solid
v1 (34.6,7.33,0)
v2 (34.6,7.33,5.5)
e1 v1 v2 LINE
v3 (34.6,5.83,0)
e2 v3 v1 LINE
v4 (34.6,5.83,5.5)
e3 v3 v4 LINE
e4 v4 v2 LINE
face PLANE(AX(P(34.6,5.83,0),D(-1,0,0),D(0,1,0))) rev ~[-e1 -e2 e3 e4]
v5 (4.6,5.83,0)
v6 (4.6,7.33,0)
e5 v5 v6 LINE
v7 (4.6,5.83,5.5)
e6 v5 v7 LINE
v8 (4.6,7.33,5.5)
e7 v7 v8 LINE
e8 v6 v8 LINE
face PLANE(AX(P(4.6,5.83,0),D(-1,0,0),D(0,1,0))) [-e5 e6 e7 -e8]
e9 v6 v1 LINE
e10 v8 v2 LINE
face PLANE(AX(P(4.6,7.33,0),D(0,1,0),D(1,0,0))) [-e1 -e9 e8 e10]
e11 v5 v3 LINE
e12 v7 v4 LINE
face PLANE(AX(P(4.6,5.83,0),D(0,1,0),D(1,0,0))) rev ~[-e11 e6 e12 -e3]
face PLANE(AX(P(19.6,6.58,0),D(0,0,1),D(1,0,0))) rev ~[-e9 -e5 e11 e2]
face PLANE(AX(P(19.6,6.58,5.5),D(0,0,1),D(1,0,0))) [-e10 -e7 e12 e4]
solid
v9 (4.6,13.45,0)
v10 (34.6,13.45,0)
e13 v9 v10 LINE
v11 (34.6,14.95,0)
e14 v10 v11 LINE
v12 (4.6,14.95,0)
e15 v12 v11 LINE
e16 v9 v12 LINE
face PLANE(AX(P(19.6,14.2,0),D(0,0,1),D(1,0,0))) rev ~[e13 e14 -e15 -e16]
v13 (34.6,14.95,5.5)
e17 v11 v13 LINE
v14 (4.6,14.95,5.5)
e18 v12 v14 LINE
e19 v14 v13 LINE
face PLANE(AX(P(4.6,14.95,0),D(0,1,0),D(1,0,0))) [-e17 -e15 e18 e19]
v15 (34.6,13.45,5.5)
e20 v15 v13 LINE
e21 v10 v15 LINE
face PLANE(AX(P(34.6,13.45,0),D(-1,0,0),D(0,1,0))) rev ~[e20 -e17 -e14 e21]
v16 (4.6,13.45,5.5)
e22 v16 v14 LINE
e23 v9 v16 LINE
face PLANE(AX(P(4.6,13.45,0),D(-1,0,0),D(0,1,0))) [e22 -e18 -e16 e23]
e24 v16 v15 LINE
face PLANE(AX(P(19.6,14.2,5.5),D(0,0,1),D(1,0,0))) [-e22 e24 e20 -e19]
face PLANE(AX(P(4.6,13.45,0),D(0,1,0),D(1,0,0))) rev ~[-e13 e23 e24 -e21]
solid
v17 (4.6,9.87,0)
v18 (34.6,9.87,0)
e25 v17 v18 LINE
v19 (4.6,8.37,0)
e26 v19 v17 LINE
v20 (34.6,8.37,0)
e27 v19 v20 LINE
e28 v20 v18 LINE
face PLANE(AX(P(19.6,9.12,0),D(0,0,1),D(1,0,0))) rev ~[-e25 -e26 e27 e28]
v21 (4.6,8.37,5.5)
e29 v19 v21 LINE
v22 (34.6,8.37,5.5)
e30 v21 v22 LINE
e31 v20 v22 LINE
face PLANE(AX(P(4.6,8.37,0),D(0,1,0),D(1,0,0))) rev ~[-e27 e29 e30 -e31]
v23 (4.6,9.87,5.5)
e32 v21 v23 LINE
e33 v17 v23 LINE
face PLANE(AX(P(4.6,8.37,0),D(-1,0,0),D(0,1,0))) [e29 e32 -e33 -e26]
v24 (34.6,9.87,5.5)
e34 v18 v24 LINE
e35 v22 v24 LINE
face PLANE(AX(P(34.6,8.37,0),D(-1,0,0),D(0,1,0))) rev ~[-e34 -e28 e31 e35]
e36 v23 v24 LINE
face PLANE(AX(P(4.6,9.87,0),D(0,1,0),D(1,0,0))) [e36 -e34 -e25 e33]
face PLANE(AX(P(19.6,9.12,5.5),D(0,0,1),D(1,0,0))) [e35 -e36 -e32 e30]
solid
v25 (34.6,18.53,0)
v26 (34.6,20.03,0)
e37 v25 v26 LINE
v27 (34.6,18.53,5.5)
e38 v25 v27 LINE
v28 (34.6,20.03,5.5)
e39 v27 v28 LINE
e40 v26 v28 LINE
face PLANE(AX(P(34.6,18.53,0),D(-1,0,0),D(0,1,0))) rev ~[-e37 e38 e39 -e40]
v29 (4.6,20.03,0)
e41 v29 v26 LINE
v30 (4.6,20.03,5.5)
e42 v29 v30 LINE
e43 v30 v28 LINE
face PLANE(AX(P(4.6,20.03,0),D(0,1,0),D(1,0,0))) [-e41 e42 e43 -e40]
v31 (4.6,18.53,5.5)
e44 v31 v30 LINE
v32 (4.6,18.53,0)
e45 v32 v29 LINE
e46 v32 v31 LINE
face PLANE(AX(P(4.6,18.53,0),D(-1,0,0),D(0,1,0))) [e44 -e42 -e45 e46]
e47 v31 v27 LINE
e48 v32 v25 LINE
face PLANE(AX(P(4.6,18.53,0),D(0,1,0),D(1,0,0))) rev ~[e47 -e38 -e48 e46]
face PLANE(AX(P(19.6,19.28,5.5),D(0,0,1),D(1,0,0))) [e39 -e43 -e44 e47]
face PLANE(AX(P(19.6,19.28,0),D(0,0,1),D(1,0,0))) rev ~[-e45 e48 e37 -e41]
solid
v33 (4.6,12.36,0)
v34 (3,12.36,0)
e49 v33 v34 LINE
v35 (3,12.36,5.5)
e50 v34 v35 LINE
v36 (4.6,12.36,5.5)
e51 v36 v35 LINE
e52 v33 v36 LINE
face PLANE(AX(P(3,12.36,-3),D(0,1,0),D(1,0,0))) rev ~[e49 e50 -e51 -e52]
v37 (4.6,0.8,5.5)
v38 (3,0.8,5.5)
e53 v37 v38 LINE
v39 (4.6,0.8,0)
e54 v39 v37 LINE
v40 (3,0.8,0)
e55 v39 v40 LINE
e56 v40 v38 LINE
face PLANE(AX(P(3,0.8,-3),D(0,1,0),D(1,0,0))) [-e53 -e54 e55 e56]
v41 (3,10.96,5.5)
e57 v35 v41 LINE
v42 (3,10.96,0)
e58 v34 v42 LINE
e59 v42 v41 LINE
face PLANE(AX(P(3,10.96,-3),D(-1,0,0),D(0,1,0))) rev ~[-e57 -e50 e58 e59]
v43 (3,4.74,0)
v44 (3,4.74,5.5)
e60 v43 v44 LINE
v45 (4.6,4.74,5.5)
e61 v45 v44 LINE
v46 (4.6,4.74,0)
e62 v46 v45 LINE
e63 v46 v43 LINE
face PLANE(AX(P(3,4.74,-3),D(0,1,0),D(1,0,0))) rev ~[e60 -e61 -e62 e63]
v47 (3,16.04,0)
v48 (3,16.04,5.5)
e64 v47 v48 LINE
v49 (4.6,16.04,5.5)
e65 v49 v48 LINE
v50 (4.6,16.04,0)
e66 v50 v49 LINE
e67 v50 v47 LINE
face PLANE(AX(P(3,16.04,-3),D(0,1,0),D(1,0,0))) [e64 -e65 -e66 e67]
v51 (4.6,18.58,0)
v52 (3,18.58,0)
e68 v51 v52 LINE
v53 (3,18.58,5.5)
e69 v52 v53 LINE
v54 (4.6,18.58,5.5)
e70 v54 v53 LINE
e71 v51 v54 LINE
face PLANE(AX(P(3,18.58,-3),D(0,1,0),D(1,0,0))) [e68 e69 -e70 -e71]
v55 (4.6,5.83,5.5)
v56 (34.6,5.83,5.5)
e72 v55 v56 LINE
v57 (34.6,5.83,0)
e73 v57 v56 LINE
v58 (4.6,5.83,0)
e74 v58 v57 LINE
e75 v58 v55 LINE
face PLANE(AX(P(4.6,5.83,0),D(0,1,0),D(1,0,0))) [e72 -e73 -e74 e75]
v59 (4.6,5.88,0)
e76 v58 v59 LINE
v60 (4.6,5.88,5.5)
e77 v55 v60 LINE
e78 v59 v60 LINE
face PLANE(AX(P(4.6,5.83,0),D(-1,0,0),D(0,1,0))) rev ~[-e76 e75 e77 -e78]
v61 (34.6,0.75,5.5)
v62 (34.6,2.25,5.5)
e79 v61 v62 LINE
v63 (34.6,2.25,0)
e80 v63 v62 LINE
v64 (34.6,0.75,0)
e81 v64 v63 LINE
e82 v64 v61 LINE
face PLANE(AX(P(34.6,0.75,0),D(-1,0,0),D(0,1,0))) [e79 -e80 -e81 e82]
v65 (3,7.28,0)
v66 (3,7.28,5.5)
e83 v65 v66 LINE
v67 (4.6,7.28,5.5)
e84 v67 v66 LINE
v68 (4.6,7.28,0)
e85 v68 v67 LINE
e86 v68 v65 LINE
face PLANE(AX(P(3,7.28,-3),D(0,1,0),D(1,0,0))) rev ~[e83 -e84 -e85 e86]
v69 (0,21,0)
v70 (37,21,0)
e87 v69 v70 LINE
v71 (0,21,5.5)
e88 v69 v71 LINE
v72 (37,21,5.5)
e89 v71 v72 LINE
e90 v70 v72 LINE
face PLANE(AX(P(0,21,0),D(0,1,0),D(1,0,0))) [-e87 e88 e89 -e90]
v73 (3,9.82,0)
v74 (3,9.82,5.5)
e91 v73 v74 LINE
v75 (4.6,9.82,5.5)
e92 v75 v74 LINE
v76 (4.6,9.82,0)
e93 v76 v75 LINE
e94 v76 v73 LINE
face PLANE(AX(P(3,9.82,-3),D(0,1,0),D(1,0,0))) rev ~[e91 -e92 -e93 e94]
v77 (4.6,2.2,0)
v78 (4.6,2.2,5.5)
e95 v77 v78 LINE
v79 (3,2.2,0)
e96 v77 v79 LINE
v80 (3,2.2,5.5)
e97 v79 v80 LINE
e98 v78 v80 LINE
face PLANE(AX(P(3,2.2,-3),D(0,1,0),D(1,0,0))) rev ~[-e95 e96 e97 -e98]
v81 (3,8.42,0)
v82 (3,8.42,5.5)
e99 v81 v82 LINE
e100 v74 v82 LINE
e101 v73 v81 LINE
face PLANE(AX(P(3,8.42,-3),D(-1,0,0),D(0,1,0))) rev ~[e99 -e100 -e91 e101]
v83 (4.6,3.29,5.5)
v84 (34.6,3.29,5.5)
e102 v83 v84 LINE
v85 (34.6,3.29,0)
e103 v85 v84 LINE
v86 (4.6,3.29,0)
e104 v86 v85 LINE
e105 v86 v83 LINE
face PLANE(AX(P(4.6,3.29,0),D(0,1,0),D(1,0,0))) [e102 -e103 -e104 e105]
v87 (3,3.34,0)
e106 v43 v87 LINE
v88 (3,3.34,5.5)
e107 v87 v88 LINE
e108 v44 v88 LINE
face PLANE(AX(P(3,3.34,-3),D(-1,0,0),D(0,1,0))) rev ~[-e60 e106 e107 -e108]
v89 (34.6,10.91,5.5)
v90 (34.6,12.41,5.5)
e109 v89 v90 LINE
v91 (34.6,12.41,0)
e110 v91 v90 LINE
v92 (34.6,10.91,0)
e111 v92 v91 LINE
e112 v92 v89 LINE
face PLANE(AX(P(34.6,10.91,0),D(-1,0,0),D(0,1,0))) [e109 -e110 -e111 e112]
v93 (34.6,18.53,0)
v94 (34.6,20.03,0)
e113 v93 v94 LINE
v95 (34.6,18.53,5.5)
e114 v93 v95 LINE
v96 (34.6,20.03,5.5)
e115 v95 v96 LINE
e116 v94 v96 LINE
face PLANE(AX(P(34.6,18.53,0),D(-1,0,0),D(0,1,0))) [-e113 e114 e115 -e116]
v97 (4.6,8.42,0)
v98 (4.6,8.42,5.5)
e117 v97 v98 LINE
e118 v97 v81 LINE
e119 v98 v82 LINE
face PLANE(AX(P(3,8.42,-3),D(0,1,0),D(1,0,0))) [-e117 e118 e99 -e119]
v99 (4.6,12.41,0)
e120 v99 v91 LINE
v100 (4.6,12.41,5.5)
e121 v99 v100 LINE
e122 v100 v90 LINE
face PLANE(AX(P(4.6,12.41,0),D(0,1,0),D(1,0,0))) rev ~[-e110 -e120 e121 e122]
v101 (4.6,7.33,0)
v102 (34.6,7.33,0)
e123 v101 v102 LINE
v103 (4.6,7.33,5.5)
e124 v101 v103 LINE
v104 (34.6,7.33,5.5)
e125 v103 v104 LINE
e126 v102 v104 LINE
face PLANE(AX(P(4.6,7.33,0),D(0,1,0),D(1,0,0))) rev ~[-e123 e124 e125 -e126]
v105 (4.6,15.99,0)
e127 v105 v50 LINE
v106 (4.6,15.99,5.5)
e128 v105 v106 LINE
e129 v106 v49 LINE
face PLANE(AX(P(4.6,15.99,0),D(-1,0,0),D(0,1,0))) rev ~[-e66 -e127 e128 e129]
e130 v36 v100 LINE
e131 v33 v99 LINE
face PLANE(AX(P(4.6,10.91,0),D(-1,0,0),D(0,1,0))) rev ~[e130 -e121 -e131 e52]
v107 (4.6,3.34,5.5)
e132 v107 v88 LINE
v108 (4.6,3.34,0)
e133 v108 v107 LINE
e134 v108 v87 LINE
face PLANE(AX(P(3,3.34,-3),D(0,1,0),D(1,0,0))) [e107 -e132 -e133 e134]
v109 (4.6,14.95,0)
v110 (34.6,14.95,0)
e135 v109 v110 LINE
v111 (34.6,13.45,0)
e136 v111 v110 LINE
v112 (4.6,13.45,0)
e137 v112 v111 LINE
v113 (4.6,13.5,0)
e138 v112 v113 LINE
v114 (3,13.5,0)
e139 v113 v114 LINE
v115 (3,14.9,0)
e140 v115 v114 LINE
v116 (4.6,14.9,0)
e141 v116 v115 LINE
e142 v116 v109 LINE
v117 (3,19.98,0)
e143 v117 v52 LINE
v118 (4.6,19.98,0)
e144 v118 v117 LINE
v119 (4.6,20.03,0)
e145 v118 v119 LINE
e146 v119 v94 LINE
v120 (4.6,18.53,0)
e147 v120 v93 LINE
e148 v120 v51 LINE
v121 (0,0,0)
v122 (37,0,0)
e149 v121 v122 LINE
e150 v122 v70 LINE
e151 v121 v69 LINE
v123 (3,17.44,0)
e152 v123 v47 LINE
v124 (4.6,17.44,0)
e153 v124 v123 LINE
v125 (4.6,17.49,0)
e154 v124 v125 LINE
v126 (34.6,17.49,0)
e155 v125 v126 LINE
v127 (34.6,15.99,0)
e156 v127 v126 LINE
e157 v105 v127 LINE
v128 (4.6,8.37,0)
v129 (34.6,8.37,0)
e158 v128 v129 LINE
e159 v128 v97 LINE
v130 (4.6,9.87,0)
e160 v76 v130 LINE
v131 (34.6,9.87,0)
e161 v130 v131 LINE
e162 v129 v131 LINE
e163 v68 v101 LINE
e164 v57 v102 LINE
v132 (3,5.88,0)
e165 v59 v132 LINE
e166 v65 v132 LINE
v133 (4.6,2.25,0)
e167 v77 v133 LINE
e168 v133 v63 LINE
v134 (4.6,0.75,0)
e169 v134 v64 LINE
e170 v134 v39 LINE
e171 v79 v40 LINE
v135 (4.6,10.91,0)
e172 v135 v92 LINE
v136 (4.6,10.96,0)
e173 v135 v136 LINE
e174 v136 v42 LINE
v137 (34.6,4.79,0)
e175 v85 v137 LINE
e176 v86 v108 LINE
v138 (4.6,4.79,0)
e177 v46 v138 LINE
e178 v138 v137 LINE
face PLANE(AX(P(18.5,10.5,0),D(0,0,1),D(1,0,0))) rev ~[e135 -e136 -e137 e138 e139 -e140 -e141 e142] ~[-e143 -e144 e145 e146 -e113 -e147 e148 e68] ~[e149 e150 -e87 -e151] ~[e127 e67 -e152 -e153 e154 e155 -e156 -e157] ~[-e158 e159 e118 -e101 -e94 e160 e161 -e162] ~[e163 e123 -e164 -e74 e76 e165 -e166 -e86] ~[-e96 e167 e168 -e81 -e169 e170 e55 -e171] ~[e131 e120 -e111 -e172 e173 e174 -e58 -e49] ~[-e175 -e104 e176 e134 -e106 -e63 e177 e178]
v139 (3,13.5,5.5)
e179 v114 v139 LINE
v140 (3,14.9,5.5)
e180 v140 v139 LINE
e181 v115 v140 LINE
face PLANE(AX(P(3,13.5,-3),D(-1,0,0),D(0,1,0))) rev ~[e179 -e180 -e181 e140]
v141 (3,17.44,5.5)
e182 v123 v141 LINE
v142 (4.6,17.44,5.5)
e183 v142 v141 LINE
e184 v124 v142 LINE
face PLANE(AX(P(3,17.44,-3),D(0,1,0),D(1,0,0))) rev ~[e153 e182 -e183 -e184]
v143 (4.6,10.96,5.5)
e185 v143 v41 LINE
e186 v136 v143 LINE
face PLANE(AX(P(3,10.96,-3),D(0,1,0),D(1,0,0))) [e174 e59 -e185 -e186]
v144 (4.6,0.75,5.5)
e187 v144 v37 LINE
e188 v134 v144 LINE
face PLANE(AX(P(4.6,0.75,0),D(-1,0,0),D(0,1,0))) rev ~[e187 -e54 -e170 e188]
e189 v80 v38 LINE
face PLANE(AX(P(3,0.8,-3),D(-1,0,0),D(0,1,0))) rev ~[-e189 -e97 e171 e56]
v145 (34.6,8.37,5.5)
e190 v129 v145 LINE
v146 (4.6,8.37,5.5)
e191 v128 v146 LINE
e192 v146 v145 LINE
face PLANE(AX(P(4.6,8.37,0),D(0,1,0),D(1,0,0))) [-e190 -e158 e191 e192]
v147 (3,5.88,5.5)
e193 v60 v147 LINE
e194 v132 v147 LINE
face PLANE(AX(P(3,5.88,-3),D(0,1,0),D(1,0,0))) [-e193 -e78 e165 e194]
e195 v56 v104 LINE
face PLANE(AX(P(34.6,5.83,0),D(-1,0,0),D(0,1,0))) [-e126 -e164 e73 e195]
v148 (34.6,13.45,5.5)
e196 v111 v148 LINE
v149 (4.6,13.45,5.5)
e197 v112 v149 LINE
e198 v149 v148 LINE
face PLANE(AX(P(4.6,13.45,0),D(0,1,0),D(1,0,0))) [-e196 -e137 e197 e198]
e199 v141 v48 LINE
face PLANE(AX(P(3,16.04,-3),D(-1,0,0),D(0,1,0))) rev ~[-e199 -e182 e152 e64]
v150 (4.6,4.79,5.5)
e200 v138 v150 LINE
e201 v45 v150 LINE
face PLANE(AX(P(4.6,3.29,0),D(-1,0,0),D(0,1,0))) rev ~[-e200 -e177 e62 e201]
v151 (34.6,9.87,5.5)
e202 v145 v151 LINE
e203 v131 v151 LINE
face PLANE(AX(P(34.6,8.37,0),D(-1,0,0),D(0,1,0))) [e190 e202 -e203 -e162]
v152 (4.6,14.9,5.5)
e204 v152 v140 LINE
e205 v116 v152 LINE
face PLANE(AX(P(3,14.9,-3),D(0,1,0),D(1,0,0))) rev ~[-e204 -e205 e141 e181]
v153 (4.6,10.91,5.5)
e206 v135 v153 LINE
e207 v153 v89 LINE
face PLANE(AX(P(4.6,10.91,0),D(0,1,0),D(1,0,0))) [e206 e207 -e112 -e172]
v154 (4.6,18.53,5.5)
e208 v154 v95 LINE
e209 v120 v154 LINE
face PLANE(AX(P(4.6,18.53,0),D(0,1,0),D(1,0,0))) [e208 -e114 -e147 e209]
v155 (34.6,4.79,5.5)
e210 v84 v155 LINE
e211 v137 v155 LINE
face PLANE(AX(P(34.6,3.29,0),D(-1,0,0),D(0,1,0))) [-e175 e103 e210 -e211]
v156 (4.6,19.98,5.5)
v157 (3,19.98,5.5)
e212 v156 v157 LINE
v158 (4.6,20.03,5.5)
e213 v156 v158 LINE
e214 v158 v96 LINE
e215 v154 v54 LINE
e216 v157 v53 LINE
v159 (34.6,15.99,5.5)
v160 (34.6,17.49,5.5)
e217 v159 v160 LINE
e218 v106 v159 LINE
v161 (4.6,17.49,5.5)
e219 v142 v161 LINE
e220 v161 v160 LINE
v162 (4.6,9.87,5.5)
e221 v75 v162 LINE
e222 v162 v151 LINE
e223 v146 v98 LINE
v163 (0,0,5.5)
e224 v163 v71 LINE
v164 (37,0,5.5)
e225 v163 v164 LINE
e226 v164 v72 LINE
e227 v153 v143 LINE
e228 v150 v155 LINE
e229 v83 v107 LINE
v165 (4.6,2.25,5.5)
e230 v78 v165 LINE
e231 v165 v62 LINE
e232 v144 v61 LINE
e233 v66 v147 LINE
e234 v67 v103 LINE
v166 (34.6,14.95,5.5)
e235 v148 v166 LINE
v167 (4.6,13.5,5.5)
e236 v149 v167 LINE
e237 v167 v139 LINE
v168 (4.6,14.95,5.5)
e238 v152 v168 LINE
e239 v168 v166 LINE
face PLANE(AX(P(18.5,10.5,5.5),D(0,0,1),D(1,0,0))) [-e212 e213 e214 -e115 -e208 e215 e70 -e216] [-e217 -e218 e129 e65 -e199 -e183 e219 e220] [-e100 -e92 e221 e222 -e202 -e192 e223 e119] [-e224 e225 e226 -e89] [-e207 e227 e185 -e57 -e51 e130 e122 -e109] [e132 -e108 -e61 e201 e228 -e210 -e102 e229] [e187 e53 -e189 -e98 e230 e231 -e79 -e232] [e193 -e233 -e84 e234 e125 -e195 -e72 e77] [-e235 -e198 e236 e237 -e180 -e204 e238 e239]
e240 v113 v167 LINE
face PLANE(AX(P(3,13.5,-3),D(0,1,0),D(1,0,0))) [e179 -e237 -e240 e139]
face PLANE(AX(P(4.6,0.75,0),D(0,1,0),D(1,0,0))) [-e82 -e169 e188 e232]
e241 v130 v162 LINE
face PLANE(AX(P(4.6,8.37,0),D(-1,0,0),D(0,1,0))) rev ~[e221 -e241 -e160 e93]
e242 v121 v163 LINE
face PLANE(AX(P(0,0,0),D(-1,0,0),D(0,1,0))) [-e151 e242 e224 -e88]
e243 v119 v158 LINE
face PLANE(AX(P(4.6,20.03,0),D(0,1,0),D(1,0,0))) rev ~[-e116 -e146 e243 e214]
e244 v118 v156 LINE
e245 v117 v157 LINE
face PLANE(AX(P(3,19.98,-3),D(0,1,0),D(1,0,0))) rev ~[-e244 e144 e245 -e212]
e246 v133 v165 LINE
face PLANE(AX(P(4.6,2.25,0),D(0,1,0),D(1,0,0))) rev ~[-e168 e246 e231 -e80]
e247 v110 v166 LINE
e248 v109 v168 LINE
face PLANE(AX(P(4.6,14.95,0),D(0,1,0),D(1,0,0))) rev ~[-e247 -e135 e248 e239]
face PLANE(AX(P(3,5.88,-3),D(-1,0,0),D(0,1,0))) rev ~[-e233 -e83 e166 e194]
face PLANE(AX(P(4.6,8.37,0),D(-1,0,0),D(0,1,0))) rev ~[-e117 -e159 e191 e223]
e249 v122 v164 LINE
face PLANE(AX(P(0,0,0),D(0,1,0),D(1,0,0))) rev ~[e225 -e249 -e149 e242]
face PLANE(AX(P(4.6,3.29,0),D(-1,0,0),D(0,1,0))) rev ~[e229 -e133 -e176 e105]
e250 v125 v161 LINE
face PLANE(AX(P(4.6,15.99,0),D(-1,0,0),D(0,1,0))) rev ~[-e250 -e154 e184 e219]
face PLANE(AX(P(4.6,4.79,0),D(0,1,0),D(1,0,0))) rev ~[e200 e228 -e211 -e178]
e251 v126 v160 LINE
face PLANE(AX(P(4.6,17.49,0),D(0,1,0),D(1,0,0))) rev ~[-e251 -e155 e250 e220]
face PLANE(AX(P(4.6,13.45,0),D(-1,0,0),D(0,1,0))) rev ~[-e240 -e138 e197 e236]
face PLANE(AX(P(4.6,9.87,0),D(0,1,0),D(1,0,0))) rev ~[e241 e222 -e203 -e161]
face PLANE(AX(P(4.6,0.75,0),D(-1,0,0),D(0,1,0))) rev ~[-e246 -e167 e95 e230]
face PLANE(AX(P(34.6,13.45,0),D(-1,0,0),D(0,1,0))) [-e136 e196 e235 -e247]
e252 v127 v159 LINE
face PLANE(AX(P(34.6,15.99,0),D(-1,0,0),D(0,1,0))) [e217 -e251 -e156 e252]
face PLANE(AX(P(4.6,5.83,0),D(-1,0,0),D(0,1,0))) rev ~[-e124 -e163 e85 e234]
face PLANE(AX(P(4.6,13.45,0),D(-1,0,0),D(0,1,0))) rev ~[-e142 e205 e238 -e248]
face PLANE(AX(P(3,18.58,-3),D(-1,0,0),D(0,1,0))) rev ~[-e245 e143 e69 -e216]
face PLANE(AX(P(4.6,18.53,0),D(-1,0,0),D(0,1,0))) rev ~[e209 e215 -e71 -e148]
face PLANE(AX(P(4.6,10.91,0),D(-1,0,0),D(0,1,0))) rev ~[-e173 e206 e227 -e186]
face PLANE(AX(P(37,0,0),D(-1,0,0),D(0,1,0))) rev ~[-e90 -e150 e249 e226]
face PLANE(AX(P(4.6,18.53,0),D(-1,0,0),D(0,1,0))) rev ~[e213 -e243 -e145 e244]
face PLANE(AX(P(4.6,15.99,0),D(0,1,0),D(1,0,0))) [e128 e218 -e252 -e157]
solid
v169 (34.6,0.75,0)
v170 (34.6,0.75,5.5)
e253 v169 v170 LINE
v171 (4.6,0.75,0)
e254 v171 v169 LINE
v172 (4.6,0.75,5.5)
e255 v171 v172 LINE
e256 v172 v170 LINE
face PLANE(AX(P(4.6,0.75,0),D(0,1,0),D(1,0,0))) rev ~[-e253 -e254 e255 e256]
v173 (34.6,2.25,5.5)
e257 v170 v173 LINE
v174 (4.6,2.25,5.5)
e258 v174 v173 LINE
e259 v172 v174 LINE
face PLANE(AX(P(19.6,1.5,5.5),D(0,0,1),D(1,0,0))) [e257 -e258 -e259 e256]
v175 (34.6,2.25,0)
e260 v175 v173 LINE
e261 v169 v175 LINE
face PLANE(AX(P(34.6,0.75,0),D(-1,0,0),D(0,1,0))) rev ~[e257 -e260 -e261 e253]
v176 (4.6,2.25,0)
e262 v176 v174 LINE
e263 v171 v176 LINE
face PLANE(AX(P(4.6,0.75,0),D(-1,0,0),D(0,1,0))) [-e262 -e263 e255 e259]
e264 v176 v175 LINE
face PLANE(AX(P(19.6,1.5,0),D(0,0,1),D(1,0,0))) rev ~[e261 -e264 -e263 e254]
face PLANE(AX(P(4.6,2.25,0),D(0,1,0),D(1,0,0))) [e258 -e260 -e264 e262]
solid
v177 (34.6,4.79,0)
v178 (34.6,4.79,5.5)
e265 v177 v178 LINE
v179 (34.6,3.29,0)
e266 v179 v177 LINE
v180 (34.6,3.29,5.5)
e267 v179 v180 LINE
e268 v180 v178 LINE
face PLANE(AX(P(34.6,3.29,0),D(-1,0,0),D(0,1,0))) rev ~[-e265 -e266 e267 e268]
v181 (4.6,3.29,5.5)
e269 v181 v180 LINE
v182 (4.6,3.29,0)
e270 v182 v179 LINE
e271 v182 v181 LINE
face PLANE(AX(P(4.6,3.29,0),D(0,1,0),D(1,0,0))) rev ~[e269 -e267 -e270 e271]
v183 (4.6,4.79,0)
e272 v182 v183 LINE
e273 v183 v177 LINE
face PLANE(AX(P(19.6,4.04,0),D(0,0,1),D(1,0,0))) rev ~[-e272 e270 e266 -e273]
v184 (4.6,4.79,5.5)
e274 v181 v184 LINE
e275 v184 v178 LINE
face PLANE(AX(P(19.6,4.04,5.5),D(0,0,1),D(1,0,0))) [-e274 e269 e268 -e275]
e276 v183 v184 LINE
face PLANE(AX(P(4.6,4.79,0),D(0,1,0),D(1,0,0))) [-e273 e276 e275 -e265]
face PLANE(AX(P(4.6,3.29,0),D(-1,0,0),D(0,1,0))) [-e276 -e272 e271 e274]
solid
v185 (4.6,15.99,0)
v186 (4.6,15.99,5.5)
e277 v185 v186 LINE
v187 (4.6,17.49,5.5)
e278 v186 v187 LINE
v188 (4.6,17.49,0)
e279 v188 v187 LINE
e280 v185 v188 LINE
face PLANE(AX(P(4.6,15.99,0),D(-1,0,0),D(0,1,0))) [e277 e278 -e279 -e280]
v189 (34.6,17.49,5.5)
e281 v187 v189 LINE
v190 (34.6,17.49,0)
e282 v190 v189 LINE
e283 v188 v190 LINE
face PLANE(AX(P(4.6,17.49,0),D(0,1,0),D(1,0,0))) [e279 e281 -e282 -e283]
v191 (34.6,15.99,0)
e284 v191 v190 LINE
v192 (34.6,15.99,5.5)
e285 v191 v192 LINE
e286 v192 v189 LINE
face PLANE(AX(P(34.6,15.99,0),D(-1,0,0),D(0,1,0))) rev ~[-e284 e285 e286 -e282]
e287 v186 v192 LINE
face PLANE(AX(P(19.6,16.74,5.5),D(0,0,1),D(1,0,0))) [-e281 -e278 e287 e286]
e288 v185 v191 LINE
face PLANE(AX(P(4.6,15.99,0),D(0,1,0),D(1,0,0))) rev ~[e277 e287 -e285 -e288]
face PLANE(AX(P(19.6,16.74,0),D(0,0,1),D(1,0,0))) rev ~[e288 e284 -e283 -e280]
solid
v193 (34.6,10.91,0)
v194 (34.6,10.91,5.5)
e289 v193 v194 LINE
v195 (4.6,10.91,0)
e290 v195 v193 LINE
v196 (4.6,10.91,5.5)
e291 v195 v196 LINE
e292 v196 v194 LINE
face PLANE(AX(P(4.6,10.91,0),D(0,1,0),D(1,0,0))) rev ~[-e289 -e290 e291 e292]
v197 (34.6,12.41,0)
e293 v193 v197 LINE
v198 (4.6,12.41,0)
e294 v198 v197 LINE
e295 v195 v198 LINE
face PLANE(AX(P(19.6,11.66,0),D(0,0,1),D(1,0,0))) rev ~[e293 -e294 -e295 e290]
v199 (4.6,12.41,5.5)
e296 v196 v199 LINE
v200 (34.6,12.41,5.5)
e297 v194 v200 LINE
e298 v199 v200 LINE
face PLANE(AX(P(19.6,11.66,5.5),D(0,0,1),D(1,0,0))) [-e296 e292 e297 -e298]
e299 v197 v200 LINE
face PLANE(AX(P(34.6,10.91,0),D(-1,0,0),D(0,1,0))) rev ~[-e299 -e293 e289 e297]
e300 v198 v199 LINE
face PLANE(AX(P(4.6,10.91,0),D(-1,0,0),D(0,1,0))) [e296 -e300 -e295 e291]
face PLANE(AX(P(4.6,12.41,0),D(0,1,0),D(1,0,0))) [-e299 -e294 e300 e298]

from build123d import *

# Parameters (mm, degrees)
BOX010_W     = 30
BOX010_H     = 1.5
BOX010_DEPTH = 5.5
BOX011_W     = 30
BOX011_H     = 1.5
BOX011_DEPTH = 5.5
BOX012_W     = 30
BOX012_H     = 1.5
BOX012_DEPTH = 5.5
BOX013_W     = 30
BOX013_H     = 1.5
BOX013_DEPTH = 5.5
BOX014_W     = 30
BOX014_H     = 1.5
BOX014_DEPTH = 5.5
BOX015_W     = 30
BOX015_H     = 1.5
BOX015_DEPTH = 5.5
BOX016_W     = 30
BOX016_H     = 1.5
BOX016_DEPTH = 5.5
BOX009_W     = 30
BOX009_H     = 1.5
BOX009_DEPTH = 5.5
BOX018_W     = 30
BOX018_H     = 1.5
BOX018_DEPTH = 5.5
BOX019_W     = 30
BOX019_H     = 1.5
BOX019_DEPTH = 5.5
BOX020_W     = 30
BOX020_H     = 1.5
BOX020_DEPTH = 5.5
BOX021_W     = 30
BOX021_H     = 1.5
BOX021_DEPTH = 5.5
BOX022_W     = 30
BOX022_H     = 1.5
BOX022_DEPTH = 5.5
BOX023_W     = 30
BOX023_H     = 1.5
BOX023_DEPTH = 5.5
BOX024_W     = 30
BOX024_H     = 1.5
BOX024_DEPTH = 5.5
BOX017_W     = 30
BOX017_H     = 1.5
BOX017_DEPTH = 5.5
BOX002_W     = 1.6
BOX002_H     = 1.4
BOX002_DEPTH = 10
BOX003_W     = 1.6
BOX003_H     = 1.4
BOX003_DEPTH = 10
BOX004_W     = 1.6
BOX004_H     = 1.4
BOX004_DEPTH = 10
BOX005_W     = 1.6
BOX005_H     = 1.4
BOX005_DEPTH = 10
BOX006_W     = 1.6
BOX006_H     = 1.4
BOX006_DEPTH = 10
BOX007_W     = 1.6
BOX007_H     = 1.4
BOX007_DEPTH = 10
BOX008_W     = 1.6
BOX008_H     = 1.4
BOX008_DEPTH = 10
BOX001_W     = 1.6
BOX001_H     = 1.4
BOX001_DEPTH = 10
BOX_W        = 37
BOX_H        = 21
BOX_DEPTH    = 5.5


with BuildPart() as cube010:
    # Box010 → Box010 (new body)
    with BuildSketch(Plane(origin=(4.6, 3.29, 0), x_dir=(1, 0, 0), z_dir=(0, 0, 1))):
        with Locations((15, 0.75)):
            Rectangle(BOX010_W, BOX010_H)
    extrude(amount=BOX010_DEPTH)


with BuildPart() as cube011:
    # Box011 → Box011 (new body)
    with BuildSketch(Plane(origin=(4.6, 5.83, 0), x_dir=(1, 0, 0), z_dir=(0, 0, 1))):
        with Locations((15, 0.75)):
            Rectangle(BOX011_W, BOX011_H)
    extrude(amount=BOX011_DEPTH)


with BuildPart() as cube012:
    # Box012 → Box012 (new body)
    with BuildSketch(Plane(origin=(4.6, 8.37, 0), x_dir=(1, 0, 0), z_dir=(0, 0, 1))):
        with Locations((15, 0.75)):
            Rectangle(BOX012_W, BOX012_H)
    extrude(amount=BOX012_DEPTH)


with BuildPart() as cube013:
    # Box013 → Box013 (new body)
    with BuildSketch(Plane(origin=(4.6, 10.91, 0), x_dir=(1, 0, 0), z_dir=(0, 0, 1))):
        with Locations((15, 0.75)):
            Rectangle(BOX013_W, BOX013_H)
    extrude(amount=BOX013_DEPTH)


with BuildPart() as cube014:
    # Box014 → Box014 (new body)
    with BuildSketch(Plane(origin=(4.6, 13.45, 0), x_dir=(1, 0, 0), z_dir=(0, 0, 1))):
        with Locations((15, 0.75)):
            Rectangle(BOX014_W, BOX014_H)
    extrude(amount=BOX014_DEPTH)


with BuildPart() as cube015:
    # Box015 → Box015 (new body)
    with BuildSketch(Plane(origin=(4.6, 15.99, 0), x_dir=(1, 0, 0), z_dir=(0, 0, 1))):
        with Locations((15, 0.75)):
            Rectangle(BOX015_W, BOX015_H)
    extrude(amount=BOX015_DEPTH)


with BuildPart() as cube016:
    # Box016 → Box016 (new body)
    with BuildSketch(Plane(origin=(4.6, 18.53, 0), x_dir=(1, 0, 0), z_dir=(0, 0, 1))):
        with Locations((15, 0.75)):
            Rectangle(BOX016_W, BOX016_H)
    extrude(amount=BOX016_DEPTH)


with BuildPart() as conducting_filament:
    # Box009 → Box009 (new body)
    with BuildSketch(Plane(origin=(4.6, 0.75, 0), x_dir=(1, 0, 0), z_dir=(0, 0, 1))):
        with Locations((15, 0.75)):
            Rectangle(BOX009_W, BOX009_H)
    extrude(amount=BOX009_DEPTH)

    # Fusion: union Cube010, Cube011, Cube012, Cube013, Cube014, Cube015, Cube016
    add(cube010.part)
    add(cube011.part)
    add(cube012.part)
    add(cube013.part)
    add(cube014.part)
    add(cube015.part)
    add(cube016.part)


with BuildPart() as cube018:
    # Box018 → Box018 (new body)
    with BuildSketch(Plane(origin=(4.6, 10.91, 0), x_dir=(1, 0, 0), z_dir=(0, 0, 1))):
        with Locations((15, 0.75)):
            Rectangle(BOX018_W, BOX018_H)
    extrude(amount=BOX018_DEPTH)


with BuildPart() as cube019:
    # Box019 → Box019 (new body)
    with BuildSketch(Plane(origin=(4.6, 3.29, 0), x_dir=(1, 0, 0), z_dir=(0, 0, 1))):
        with Locations((15, 0.75)):
            Rectangle(BOX019_W, BOX019_H)
    extrude(amount=BOX019_DEPTH)


with BuildPart() as cube020:
    # Box020 → Box020 (new body)
    with BuildSketch(Plane(origin=(4.6, 5.83, 0), x_dir=(1, 0, 0), z_dir=(0, 0, 1))):
        with Locations((15, 0.75)):
            Rectangle(BOX020_W, BOX020_H)
    extrude(amount=BOX020_DEPTH)


with BuildPart() as cube021:
    # Box021 → Box021 (new body)
    with BuildSketch(Plane(origin=(4.6, 18.53, 0), x_dir=(1, 0, 0), z_dir=(0, 0, 1))):
        with Locations((15, 0.75)):
            Rectangle(BOX021_W, BOX021_H)
    extrude(amount=BOX021_DEPTH)


with BuildPart() as cube022:
    # Box022 → Box022 (new body)
    with BuildSketch(Plane(origin=(4.6, 15.99, 0), x_dir=(1, 0, 0), z_dir=(0, 0, 1))):
        with Locations((15, 0.75)):
            Rectangle(BOX022_W, BOX022_H)
    extrude(amount=BOX022_DEPTH)


with BuildPart() as cube023:
    # Box023 → Box023 (new body)
    with BuildSketch(Plane(origin=(4.6, 8.37, 0), x_dir=(1, 0, 0), z_dir=(0, 0, 1))):
        with Locations((15, 0.75)):
            Rectangle(BOX023_W, BOX023_H)
    extrude(amount=BOX023_DEPTH)


with BuildPart() as cube024:
    # Box024 → Box024 (new body)
    with BuildSketch(Plane(origin=(4.6, 13.45, 0), x_dir=(1, 0, 0), z_dir=(0, 0, 1))):
        with Locations((15, 0.75)):
            Rectangle(BOX024_W, BOX024_H)
    extrude(amount=BOX024_DEPTH)


with BuildPart() as fusion002:
    # Box017 → Box017 (new body)
    with BuildSketch(Plane(origin=(4.6, 0.75, 0), x_dir=(1, 0, 0), z_dir=(0, 0, 1))):
        with Locations((15, 0.75)):
            Rectangle(BOX017_W, BOX017_H)
    extrude(amount=BOX017_DEPTH)

    # Fusion002: union Cube018, Cube019, Cube020, Cube021, Cube022, Cube023, Cube024
    add(cube018.part)
    add(cube019.part)
    add(cube020.part)
    add(cube021.part)
    add(cube022.part)
    add(cube023.part)
    add(cube024.part)


with BuildPart() as cube002:
    # Box002 → Box002 (new body)
    with BuildSketch(Plane(origin=(3, 3.34, -3), x_dir=(1, 0, 0), z_dir=(0, 0, 1))):
        with Locations((0.8, 0.7)):
            Rectangle(BOX002_W, BOX002_H)
    extrude(amount=BOX002_DEPTH)


with BuildPart() as cube003:
    # Box003 → Box003 (new body)
    with BuildSketch(Plane(origin=(3, 5.88, -3), x_dir=(1, 0, 0), z_dir=(0, 0, 1))):
        with Locations((0.8, 0.7)):
            Rectangle(BOX003_W, BOX003_H)
    extrude(amount=BOX003_DEPTH)


with BuildPart() as cube004:
    # Box004 → Box004 (new body)
    with BuildSketch(Plane(origin=(3, 8.42, -3), x_dir=(1, 0, 0), z_dir=(0, 0, 1))):
        with Locations((0.8, 0.7)):
            Rectangle(BOX004_W, BOX004_H)
    extrude(amount=BOX004_DEPTH)


with BuildPart() as cube005:
    # Box005 → Box005 (new body)
    with BuildSketch(Plane(origin=(3, 10.96, -3), x_dir=(1, 0, 0), z_dir=(0, 0, 1))):
        with Locations((0.8, 0.7)):
            Rectangle(BOX005_W, BOX005_H)
    extrude(amount=BOX005_DEPTH)


with BuildPart() as cube006:
    # Box006 → Box006 (new body)
    with BuildSketch(Plane(origin=(3, 13.5, -3), x_dir=(1, 0, 0), z_dir=(0, 0, 1))):
        with Locations((0.8, 0.7)):
            Rectangle(BOX006_W, BOX006_H)
    extrude(amount=BOX006_DEPTH)


with BuildPart() as cube007:
    # Box007 → Box007 (new body)
    with BuildSketch(Plane(origin=(3, 16.04, -3), x_dir=(1, 0, 0), z_dir=(0, 0, 1))):
        with Locations((0.8, 0.7)):
            Rectangle(BOX007_W, BOX007_H)
    extrude(amount=BOX007_DEPTH)


with BuildPart() as cube008:
    # Box008 → Box008 (new body)
    with BuildSketch(Plane(origin=(3, 18.58, -3), x_dir=(1, 0, 0), z_dir=(0, 0, 1))):
        with Locations((0.8, 0.7)):
            Rectangle(BOX008_W, BOX008_H)
    extrude(amount=BOX008_DEPTH)


with BuildPart() as fusion001:
    # Box001 → Box001 (new body)
    with BuildSketch(Plane(origin=(3, 0.8, -3), x_dir=(1, 0, 0), z_dir=(0, 0, 1))):
        with Locations((0.8, 0.7)):
            Rectangle(BOX001_W, BOX001_H)
    extrude(amount=BOX001_DEPTH)

    # Fusion001: union Cube002, Cube003, Cube004, Cube005, Cube006, Cube007, Cube008
    add(cube002.part)
    add(cube003.part)
    add(cube004.part)
    add(cube005.part)
    add(cube006.part)
    add(cube007.part)
    add(cube008.part)


with BuildPart() as main_body:
    # Box → Box (new body)
    with BuildSketch(Plane.XY):
        with Locations((18.5, 10.5)):
            Rectangle(BOX_W, BOX_H)
    extrude(amount=BOX_DEPTH)

    # Cut: cut Fusion001
    add(fusion001.part, mode=Mode.SUBTRACT)

    # Cut001: cut Fusion002
    add(fusion002.part, mode=Mode.SUBTRACT)


solid = Compound([conducting_filament.part, main_body.part])
